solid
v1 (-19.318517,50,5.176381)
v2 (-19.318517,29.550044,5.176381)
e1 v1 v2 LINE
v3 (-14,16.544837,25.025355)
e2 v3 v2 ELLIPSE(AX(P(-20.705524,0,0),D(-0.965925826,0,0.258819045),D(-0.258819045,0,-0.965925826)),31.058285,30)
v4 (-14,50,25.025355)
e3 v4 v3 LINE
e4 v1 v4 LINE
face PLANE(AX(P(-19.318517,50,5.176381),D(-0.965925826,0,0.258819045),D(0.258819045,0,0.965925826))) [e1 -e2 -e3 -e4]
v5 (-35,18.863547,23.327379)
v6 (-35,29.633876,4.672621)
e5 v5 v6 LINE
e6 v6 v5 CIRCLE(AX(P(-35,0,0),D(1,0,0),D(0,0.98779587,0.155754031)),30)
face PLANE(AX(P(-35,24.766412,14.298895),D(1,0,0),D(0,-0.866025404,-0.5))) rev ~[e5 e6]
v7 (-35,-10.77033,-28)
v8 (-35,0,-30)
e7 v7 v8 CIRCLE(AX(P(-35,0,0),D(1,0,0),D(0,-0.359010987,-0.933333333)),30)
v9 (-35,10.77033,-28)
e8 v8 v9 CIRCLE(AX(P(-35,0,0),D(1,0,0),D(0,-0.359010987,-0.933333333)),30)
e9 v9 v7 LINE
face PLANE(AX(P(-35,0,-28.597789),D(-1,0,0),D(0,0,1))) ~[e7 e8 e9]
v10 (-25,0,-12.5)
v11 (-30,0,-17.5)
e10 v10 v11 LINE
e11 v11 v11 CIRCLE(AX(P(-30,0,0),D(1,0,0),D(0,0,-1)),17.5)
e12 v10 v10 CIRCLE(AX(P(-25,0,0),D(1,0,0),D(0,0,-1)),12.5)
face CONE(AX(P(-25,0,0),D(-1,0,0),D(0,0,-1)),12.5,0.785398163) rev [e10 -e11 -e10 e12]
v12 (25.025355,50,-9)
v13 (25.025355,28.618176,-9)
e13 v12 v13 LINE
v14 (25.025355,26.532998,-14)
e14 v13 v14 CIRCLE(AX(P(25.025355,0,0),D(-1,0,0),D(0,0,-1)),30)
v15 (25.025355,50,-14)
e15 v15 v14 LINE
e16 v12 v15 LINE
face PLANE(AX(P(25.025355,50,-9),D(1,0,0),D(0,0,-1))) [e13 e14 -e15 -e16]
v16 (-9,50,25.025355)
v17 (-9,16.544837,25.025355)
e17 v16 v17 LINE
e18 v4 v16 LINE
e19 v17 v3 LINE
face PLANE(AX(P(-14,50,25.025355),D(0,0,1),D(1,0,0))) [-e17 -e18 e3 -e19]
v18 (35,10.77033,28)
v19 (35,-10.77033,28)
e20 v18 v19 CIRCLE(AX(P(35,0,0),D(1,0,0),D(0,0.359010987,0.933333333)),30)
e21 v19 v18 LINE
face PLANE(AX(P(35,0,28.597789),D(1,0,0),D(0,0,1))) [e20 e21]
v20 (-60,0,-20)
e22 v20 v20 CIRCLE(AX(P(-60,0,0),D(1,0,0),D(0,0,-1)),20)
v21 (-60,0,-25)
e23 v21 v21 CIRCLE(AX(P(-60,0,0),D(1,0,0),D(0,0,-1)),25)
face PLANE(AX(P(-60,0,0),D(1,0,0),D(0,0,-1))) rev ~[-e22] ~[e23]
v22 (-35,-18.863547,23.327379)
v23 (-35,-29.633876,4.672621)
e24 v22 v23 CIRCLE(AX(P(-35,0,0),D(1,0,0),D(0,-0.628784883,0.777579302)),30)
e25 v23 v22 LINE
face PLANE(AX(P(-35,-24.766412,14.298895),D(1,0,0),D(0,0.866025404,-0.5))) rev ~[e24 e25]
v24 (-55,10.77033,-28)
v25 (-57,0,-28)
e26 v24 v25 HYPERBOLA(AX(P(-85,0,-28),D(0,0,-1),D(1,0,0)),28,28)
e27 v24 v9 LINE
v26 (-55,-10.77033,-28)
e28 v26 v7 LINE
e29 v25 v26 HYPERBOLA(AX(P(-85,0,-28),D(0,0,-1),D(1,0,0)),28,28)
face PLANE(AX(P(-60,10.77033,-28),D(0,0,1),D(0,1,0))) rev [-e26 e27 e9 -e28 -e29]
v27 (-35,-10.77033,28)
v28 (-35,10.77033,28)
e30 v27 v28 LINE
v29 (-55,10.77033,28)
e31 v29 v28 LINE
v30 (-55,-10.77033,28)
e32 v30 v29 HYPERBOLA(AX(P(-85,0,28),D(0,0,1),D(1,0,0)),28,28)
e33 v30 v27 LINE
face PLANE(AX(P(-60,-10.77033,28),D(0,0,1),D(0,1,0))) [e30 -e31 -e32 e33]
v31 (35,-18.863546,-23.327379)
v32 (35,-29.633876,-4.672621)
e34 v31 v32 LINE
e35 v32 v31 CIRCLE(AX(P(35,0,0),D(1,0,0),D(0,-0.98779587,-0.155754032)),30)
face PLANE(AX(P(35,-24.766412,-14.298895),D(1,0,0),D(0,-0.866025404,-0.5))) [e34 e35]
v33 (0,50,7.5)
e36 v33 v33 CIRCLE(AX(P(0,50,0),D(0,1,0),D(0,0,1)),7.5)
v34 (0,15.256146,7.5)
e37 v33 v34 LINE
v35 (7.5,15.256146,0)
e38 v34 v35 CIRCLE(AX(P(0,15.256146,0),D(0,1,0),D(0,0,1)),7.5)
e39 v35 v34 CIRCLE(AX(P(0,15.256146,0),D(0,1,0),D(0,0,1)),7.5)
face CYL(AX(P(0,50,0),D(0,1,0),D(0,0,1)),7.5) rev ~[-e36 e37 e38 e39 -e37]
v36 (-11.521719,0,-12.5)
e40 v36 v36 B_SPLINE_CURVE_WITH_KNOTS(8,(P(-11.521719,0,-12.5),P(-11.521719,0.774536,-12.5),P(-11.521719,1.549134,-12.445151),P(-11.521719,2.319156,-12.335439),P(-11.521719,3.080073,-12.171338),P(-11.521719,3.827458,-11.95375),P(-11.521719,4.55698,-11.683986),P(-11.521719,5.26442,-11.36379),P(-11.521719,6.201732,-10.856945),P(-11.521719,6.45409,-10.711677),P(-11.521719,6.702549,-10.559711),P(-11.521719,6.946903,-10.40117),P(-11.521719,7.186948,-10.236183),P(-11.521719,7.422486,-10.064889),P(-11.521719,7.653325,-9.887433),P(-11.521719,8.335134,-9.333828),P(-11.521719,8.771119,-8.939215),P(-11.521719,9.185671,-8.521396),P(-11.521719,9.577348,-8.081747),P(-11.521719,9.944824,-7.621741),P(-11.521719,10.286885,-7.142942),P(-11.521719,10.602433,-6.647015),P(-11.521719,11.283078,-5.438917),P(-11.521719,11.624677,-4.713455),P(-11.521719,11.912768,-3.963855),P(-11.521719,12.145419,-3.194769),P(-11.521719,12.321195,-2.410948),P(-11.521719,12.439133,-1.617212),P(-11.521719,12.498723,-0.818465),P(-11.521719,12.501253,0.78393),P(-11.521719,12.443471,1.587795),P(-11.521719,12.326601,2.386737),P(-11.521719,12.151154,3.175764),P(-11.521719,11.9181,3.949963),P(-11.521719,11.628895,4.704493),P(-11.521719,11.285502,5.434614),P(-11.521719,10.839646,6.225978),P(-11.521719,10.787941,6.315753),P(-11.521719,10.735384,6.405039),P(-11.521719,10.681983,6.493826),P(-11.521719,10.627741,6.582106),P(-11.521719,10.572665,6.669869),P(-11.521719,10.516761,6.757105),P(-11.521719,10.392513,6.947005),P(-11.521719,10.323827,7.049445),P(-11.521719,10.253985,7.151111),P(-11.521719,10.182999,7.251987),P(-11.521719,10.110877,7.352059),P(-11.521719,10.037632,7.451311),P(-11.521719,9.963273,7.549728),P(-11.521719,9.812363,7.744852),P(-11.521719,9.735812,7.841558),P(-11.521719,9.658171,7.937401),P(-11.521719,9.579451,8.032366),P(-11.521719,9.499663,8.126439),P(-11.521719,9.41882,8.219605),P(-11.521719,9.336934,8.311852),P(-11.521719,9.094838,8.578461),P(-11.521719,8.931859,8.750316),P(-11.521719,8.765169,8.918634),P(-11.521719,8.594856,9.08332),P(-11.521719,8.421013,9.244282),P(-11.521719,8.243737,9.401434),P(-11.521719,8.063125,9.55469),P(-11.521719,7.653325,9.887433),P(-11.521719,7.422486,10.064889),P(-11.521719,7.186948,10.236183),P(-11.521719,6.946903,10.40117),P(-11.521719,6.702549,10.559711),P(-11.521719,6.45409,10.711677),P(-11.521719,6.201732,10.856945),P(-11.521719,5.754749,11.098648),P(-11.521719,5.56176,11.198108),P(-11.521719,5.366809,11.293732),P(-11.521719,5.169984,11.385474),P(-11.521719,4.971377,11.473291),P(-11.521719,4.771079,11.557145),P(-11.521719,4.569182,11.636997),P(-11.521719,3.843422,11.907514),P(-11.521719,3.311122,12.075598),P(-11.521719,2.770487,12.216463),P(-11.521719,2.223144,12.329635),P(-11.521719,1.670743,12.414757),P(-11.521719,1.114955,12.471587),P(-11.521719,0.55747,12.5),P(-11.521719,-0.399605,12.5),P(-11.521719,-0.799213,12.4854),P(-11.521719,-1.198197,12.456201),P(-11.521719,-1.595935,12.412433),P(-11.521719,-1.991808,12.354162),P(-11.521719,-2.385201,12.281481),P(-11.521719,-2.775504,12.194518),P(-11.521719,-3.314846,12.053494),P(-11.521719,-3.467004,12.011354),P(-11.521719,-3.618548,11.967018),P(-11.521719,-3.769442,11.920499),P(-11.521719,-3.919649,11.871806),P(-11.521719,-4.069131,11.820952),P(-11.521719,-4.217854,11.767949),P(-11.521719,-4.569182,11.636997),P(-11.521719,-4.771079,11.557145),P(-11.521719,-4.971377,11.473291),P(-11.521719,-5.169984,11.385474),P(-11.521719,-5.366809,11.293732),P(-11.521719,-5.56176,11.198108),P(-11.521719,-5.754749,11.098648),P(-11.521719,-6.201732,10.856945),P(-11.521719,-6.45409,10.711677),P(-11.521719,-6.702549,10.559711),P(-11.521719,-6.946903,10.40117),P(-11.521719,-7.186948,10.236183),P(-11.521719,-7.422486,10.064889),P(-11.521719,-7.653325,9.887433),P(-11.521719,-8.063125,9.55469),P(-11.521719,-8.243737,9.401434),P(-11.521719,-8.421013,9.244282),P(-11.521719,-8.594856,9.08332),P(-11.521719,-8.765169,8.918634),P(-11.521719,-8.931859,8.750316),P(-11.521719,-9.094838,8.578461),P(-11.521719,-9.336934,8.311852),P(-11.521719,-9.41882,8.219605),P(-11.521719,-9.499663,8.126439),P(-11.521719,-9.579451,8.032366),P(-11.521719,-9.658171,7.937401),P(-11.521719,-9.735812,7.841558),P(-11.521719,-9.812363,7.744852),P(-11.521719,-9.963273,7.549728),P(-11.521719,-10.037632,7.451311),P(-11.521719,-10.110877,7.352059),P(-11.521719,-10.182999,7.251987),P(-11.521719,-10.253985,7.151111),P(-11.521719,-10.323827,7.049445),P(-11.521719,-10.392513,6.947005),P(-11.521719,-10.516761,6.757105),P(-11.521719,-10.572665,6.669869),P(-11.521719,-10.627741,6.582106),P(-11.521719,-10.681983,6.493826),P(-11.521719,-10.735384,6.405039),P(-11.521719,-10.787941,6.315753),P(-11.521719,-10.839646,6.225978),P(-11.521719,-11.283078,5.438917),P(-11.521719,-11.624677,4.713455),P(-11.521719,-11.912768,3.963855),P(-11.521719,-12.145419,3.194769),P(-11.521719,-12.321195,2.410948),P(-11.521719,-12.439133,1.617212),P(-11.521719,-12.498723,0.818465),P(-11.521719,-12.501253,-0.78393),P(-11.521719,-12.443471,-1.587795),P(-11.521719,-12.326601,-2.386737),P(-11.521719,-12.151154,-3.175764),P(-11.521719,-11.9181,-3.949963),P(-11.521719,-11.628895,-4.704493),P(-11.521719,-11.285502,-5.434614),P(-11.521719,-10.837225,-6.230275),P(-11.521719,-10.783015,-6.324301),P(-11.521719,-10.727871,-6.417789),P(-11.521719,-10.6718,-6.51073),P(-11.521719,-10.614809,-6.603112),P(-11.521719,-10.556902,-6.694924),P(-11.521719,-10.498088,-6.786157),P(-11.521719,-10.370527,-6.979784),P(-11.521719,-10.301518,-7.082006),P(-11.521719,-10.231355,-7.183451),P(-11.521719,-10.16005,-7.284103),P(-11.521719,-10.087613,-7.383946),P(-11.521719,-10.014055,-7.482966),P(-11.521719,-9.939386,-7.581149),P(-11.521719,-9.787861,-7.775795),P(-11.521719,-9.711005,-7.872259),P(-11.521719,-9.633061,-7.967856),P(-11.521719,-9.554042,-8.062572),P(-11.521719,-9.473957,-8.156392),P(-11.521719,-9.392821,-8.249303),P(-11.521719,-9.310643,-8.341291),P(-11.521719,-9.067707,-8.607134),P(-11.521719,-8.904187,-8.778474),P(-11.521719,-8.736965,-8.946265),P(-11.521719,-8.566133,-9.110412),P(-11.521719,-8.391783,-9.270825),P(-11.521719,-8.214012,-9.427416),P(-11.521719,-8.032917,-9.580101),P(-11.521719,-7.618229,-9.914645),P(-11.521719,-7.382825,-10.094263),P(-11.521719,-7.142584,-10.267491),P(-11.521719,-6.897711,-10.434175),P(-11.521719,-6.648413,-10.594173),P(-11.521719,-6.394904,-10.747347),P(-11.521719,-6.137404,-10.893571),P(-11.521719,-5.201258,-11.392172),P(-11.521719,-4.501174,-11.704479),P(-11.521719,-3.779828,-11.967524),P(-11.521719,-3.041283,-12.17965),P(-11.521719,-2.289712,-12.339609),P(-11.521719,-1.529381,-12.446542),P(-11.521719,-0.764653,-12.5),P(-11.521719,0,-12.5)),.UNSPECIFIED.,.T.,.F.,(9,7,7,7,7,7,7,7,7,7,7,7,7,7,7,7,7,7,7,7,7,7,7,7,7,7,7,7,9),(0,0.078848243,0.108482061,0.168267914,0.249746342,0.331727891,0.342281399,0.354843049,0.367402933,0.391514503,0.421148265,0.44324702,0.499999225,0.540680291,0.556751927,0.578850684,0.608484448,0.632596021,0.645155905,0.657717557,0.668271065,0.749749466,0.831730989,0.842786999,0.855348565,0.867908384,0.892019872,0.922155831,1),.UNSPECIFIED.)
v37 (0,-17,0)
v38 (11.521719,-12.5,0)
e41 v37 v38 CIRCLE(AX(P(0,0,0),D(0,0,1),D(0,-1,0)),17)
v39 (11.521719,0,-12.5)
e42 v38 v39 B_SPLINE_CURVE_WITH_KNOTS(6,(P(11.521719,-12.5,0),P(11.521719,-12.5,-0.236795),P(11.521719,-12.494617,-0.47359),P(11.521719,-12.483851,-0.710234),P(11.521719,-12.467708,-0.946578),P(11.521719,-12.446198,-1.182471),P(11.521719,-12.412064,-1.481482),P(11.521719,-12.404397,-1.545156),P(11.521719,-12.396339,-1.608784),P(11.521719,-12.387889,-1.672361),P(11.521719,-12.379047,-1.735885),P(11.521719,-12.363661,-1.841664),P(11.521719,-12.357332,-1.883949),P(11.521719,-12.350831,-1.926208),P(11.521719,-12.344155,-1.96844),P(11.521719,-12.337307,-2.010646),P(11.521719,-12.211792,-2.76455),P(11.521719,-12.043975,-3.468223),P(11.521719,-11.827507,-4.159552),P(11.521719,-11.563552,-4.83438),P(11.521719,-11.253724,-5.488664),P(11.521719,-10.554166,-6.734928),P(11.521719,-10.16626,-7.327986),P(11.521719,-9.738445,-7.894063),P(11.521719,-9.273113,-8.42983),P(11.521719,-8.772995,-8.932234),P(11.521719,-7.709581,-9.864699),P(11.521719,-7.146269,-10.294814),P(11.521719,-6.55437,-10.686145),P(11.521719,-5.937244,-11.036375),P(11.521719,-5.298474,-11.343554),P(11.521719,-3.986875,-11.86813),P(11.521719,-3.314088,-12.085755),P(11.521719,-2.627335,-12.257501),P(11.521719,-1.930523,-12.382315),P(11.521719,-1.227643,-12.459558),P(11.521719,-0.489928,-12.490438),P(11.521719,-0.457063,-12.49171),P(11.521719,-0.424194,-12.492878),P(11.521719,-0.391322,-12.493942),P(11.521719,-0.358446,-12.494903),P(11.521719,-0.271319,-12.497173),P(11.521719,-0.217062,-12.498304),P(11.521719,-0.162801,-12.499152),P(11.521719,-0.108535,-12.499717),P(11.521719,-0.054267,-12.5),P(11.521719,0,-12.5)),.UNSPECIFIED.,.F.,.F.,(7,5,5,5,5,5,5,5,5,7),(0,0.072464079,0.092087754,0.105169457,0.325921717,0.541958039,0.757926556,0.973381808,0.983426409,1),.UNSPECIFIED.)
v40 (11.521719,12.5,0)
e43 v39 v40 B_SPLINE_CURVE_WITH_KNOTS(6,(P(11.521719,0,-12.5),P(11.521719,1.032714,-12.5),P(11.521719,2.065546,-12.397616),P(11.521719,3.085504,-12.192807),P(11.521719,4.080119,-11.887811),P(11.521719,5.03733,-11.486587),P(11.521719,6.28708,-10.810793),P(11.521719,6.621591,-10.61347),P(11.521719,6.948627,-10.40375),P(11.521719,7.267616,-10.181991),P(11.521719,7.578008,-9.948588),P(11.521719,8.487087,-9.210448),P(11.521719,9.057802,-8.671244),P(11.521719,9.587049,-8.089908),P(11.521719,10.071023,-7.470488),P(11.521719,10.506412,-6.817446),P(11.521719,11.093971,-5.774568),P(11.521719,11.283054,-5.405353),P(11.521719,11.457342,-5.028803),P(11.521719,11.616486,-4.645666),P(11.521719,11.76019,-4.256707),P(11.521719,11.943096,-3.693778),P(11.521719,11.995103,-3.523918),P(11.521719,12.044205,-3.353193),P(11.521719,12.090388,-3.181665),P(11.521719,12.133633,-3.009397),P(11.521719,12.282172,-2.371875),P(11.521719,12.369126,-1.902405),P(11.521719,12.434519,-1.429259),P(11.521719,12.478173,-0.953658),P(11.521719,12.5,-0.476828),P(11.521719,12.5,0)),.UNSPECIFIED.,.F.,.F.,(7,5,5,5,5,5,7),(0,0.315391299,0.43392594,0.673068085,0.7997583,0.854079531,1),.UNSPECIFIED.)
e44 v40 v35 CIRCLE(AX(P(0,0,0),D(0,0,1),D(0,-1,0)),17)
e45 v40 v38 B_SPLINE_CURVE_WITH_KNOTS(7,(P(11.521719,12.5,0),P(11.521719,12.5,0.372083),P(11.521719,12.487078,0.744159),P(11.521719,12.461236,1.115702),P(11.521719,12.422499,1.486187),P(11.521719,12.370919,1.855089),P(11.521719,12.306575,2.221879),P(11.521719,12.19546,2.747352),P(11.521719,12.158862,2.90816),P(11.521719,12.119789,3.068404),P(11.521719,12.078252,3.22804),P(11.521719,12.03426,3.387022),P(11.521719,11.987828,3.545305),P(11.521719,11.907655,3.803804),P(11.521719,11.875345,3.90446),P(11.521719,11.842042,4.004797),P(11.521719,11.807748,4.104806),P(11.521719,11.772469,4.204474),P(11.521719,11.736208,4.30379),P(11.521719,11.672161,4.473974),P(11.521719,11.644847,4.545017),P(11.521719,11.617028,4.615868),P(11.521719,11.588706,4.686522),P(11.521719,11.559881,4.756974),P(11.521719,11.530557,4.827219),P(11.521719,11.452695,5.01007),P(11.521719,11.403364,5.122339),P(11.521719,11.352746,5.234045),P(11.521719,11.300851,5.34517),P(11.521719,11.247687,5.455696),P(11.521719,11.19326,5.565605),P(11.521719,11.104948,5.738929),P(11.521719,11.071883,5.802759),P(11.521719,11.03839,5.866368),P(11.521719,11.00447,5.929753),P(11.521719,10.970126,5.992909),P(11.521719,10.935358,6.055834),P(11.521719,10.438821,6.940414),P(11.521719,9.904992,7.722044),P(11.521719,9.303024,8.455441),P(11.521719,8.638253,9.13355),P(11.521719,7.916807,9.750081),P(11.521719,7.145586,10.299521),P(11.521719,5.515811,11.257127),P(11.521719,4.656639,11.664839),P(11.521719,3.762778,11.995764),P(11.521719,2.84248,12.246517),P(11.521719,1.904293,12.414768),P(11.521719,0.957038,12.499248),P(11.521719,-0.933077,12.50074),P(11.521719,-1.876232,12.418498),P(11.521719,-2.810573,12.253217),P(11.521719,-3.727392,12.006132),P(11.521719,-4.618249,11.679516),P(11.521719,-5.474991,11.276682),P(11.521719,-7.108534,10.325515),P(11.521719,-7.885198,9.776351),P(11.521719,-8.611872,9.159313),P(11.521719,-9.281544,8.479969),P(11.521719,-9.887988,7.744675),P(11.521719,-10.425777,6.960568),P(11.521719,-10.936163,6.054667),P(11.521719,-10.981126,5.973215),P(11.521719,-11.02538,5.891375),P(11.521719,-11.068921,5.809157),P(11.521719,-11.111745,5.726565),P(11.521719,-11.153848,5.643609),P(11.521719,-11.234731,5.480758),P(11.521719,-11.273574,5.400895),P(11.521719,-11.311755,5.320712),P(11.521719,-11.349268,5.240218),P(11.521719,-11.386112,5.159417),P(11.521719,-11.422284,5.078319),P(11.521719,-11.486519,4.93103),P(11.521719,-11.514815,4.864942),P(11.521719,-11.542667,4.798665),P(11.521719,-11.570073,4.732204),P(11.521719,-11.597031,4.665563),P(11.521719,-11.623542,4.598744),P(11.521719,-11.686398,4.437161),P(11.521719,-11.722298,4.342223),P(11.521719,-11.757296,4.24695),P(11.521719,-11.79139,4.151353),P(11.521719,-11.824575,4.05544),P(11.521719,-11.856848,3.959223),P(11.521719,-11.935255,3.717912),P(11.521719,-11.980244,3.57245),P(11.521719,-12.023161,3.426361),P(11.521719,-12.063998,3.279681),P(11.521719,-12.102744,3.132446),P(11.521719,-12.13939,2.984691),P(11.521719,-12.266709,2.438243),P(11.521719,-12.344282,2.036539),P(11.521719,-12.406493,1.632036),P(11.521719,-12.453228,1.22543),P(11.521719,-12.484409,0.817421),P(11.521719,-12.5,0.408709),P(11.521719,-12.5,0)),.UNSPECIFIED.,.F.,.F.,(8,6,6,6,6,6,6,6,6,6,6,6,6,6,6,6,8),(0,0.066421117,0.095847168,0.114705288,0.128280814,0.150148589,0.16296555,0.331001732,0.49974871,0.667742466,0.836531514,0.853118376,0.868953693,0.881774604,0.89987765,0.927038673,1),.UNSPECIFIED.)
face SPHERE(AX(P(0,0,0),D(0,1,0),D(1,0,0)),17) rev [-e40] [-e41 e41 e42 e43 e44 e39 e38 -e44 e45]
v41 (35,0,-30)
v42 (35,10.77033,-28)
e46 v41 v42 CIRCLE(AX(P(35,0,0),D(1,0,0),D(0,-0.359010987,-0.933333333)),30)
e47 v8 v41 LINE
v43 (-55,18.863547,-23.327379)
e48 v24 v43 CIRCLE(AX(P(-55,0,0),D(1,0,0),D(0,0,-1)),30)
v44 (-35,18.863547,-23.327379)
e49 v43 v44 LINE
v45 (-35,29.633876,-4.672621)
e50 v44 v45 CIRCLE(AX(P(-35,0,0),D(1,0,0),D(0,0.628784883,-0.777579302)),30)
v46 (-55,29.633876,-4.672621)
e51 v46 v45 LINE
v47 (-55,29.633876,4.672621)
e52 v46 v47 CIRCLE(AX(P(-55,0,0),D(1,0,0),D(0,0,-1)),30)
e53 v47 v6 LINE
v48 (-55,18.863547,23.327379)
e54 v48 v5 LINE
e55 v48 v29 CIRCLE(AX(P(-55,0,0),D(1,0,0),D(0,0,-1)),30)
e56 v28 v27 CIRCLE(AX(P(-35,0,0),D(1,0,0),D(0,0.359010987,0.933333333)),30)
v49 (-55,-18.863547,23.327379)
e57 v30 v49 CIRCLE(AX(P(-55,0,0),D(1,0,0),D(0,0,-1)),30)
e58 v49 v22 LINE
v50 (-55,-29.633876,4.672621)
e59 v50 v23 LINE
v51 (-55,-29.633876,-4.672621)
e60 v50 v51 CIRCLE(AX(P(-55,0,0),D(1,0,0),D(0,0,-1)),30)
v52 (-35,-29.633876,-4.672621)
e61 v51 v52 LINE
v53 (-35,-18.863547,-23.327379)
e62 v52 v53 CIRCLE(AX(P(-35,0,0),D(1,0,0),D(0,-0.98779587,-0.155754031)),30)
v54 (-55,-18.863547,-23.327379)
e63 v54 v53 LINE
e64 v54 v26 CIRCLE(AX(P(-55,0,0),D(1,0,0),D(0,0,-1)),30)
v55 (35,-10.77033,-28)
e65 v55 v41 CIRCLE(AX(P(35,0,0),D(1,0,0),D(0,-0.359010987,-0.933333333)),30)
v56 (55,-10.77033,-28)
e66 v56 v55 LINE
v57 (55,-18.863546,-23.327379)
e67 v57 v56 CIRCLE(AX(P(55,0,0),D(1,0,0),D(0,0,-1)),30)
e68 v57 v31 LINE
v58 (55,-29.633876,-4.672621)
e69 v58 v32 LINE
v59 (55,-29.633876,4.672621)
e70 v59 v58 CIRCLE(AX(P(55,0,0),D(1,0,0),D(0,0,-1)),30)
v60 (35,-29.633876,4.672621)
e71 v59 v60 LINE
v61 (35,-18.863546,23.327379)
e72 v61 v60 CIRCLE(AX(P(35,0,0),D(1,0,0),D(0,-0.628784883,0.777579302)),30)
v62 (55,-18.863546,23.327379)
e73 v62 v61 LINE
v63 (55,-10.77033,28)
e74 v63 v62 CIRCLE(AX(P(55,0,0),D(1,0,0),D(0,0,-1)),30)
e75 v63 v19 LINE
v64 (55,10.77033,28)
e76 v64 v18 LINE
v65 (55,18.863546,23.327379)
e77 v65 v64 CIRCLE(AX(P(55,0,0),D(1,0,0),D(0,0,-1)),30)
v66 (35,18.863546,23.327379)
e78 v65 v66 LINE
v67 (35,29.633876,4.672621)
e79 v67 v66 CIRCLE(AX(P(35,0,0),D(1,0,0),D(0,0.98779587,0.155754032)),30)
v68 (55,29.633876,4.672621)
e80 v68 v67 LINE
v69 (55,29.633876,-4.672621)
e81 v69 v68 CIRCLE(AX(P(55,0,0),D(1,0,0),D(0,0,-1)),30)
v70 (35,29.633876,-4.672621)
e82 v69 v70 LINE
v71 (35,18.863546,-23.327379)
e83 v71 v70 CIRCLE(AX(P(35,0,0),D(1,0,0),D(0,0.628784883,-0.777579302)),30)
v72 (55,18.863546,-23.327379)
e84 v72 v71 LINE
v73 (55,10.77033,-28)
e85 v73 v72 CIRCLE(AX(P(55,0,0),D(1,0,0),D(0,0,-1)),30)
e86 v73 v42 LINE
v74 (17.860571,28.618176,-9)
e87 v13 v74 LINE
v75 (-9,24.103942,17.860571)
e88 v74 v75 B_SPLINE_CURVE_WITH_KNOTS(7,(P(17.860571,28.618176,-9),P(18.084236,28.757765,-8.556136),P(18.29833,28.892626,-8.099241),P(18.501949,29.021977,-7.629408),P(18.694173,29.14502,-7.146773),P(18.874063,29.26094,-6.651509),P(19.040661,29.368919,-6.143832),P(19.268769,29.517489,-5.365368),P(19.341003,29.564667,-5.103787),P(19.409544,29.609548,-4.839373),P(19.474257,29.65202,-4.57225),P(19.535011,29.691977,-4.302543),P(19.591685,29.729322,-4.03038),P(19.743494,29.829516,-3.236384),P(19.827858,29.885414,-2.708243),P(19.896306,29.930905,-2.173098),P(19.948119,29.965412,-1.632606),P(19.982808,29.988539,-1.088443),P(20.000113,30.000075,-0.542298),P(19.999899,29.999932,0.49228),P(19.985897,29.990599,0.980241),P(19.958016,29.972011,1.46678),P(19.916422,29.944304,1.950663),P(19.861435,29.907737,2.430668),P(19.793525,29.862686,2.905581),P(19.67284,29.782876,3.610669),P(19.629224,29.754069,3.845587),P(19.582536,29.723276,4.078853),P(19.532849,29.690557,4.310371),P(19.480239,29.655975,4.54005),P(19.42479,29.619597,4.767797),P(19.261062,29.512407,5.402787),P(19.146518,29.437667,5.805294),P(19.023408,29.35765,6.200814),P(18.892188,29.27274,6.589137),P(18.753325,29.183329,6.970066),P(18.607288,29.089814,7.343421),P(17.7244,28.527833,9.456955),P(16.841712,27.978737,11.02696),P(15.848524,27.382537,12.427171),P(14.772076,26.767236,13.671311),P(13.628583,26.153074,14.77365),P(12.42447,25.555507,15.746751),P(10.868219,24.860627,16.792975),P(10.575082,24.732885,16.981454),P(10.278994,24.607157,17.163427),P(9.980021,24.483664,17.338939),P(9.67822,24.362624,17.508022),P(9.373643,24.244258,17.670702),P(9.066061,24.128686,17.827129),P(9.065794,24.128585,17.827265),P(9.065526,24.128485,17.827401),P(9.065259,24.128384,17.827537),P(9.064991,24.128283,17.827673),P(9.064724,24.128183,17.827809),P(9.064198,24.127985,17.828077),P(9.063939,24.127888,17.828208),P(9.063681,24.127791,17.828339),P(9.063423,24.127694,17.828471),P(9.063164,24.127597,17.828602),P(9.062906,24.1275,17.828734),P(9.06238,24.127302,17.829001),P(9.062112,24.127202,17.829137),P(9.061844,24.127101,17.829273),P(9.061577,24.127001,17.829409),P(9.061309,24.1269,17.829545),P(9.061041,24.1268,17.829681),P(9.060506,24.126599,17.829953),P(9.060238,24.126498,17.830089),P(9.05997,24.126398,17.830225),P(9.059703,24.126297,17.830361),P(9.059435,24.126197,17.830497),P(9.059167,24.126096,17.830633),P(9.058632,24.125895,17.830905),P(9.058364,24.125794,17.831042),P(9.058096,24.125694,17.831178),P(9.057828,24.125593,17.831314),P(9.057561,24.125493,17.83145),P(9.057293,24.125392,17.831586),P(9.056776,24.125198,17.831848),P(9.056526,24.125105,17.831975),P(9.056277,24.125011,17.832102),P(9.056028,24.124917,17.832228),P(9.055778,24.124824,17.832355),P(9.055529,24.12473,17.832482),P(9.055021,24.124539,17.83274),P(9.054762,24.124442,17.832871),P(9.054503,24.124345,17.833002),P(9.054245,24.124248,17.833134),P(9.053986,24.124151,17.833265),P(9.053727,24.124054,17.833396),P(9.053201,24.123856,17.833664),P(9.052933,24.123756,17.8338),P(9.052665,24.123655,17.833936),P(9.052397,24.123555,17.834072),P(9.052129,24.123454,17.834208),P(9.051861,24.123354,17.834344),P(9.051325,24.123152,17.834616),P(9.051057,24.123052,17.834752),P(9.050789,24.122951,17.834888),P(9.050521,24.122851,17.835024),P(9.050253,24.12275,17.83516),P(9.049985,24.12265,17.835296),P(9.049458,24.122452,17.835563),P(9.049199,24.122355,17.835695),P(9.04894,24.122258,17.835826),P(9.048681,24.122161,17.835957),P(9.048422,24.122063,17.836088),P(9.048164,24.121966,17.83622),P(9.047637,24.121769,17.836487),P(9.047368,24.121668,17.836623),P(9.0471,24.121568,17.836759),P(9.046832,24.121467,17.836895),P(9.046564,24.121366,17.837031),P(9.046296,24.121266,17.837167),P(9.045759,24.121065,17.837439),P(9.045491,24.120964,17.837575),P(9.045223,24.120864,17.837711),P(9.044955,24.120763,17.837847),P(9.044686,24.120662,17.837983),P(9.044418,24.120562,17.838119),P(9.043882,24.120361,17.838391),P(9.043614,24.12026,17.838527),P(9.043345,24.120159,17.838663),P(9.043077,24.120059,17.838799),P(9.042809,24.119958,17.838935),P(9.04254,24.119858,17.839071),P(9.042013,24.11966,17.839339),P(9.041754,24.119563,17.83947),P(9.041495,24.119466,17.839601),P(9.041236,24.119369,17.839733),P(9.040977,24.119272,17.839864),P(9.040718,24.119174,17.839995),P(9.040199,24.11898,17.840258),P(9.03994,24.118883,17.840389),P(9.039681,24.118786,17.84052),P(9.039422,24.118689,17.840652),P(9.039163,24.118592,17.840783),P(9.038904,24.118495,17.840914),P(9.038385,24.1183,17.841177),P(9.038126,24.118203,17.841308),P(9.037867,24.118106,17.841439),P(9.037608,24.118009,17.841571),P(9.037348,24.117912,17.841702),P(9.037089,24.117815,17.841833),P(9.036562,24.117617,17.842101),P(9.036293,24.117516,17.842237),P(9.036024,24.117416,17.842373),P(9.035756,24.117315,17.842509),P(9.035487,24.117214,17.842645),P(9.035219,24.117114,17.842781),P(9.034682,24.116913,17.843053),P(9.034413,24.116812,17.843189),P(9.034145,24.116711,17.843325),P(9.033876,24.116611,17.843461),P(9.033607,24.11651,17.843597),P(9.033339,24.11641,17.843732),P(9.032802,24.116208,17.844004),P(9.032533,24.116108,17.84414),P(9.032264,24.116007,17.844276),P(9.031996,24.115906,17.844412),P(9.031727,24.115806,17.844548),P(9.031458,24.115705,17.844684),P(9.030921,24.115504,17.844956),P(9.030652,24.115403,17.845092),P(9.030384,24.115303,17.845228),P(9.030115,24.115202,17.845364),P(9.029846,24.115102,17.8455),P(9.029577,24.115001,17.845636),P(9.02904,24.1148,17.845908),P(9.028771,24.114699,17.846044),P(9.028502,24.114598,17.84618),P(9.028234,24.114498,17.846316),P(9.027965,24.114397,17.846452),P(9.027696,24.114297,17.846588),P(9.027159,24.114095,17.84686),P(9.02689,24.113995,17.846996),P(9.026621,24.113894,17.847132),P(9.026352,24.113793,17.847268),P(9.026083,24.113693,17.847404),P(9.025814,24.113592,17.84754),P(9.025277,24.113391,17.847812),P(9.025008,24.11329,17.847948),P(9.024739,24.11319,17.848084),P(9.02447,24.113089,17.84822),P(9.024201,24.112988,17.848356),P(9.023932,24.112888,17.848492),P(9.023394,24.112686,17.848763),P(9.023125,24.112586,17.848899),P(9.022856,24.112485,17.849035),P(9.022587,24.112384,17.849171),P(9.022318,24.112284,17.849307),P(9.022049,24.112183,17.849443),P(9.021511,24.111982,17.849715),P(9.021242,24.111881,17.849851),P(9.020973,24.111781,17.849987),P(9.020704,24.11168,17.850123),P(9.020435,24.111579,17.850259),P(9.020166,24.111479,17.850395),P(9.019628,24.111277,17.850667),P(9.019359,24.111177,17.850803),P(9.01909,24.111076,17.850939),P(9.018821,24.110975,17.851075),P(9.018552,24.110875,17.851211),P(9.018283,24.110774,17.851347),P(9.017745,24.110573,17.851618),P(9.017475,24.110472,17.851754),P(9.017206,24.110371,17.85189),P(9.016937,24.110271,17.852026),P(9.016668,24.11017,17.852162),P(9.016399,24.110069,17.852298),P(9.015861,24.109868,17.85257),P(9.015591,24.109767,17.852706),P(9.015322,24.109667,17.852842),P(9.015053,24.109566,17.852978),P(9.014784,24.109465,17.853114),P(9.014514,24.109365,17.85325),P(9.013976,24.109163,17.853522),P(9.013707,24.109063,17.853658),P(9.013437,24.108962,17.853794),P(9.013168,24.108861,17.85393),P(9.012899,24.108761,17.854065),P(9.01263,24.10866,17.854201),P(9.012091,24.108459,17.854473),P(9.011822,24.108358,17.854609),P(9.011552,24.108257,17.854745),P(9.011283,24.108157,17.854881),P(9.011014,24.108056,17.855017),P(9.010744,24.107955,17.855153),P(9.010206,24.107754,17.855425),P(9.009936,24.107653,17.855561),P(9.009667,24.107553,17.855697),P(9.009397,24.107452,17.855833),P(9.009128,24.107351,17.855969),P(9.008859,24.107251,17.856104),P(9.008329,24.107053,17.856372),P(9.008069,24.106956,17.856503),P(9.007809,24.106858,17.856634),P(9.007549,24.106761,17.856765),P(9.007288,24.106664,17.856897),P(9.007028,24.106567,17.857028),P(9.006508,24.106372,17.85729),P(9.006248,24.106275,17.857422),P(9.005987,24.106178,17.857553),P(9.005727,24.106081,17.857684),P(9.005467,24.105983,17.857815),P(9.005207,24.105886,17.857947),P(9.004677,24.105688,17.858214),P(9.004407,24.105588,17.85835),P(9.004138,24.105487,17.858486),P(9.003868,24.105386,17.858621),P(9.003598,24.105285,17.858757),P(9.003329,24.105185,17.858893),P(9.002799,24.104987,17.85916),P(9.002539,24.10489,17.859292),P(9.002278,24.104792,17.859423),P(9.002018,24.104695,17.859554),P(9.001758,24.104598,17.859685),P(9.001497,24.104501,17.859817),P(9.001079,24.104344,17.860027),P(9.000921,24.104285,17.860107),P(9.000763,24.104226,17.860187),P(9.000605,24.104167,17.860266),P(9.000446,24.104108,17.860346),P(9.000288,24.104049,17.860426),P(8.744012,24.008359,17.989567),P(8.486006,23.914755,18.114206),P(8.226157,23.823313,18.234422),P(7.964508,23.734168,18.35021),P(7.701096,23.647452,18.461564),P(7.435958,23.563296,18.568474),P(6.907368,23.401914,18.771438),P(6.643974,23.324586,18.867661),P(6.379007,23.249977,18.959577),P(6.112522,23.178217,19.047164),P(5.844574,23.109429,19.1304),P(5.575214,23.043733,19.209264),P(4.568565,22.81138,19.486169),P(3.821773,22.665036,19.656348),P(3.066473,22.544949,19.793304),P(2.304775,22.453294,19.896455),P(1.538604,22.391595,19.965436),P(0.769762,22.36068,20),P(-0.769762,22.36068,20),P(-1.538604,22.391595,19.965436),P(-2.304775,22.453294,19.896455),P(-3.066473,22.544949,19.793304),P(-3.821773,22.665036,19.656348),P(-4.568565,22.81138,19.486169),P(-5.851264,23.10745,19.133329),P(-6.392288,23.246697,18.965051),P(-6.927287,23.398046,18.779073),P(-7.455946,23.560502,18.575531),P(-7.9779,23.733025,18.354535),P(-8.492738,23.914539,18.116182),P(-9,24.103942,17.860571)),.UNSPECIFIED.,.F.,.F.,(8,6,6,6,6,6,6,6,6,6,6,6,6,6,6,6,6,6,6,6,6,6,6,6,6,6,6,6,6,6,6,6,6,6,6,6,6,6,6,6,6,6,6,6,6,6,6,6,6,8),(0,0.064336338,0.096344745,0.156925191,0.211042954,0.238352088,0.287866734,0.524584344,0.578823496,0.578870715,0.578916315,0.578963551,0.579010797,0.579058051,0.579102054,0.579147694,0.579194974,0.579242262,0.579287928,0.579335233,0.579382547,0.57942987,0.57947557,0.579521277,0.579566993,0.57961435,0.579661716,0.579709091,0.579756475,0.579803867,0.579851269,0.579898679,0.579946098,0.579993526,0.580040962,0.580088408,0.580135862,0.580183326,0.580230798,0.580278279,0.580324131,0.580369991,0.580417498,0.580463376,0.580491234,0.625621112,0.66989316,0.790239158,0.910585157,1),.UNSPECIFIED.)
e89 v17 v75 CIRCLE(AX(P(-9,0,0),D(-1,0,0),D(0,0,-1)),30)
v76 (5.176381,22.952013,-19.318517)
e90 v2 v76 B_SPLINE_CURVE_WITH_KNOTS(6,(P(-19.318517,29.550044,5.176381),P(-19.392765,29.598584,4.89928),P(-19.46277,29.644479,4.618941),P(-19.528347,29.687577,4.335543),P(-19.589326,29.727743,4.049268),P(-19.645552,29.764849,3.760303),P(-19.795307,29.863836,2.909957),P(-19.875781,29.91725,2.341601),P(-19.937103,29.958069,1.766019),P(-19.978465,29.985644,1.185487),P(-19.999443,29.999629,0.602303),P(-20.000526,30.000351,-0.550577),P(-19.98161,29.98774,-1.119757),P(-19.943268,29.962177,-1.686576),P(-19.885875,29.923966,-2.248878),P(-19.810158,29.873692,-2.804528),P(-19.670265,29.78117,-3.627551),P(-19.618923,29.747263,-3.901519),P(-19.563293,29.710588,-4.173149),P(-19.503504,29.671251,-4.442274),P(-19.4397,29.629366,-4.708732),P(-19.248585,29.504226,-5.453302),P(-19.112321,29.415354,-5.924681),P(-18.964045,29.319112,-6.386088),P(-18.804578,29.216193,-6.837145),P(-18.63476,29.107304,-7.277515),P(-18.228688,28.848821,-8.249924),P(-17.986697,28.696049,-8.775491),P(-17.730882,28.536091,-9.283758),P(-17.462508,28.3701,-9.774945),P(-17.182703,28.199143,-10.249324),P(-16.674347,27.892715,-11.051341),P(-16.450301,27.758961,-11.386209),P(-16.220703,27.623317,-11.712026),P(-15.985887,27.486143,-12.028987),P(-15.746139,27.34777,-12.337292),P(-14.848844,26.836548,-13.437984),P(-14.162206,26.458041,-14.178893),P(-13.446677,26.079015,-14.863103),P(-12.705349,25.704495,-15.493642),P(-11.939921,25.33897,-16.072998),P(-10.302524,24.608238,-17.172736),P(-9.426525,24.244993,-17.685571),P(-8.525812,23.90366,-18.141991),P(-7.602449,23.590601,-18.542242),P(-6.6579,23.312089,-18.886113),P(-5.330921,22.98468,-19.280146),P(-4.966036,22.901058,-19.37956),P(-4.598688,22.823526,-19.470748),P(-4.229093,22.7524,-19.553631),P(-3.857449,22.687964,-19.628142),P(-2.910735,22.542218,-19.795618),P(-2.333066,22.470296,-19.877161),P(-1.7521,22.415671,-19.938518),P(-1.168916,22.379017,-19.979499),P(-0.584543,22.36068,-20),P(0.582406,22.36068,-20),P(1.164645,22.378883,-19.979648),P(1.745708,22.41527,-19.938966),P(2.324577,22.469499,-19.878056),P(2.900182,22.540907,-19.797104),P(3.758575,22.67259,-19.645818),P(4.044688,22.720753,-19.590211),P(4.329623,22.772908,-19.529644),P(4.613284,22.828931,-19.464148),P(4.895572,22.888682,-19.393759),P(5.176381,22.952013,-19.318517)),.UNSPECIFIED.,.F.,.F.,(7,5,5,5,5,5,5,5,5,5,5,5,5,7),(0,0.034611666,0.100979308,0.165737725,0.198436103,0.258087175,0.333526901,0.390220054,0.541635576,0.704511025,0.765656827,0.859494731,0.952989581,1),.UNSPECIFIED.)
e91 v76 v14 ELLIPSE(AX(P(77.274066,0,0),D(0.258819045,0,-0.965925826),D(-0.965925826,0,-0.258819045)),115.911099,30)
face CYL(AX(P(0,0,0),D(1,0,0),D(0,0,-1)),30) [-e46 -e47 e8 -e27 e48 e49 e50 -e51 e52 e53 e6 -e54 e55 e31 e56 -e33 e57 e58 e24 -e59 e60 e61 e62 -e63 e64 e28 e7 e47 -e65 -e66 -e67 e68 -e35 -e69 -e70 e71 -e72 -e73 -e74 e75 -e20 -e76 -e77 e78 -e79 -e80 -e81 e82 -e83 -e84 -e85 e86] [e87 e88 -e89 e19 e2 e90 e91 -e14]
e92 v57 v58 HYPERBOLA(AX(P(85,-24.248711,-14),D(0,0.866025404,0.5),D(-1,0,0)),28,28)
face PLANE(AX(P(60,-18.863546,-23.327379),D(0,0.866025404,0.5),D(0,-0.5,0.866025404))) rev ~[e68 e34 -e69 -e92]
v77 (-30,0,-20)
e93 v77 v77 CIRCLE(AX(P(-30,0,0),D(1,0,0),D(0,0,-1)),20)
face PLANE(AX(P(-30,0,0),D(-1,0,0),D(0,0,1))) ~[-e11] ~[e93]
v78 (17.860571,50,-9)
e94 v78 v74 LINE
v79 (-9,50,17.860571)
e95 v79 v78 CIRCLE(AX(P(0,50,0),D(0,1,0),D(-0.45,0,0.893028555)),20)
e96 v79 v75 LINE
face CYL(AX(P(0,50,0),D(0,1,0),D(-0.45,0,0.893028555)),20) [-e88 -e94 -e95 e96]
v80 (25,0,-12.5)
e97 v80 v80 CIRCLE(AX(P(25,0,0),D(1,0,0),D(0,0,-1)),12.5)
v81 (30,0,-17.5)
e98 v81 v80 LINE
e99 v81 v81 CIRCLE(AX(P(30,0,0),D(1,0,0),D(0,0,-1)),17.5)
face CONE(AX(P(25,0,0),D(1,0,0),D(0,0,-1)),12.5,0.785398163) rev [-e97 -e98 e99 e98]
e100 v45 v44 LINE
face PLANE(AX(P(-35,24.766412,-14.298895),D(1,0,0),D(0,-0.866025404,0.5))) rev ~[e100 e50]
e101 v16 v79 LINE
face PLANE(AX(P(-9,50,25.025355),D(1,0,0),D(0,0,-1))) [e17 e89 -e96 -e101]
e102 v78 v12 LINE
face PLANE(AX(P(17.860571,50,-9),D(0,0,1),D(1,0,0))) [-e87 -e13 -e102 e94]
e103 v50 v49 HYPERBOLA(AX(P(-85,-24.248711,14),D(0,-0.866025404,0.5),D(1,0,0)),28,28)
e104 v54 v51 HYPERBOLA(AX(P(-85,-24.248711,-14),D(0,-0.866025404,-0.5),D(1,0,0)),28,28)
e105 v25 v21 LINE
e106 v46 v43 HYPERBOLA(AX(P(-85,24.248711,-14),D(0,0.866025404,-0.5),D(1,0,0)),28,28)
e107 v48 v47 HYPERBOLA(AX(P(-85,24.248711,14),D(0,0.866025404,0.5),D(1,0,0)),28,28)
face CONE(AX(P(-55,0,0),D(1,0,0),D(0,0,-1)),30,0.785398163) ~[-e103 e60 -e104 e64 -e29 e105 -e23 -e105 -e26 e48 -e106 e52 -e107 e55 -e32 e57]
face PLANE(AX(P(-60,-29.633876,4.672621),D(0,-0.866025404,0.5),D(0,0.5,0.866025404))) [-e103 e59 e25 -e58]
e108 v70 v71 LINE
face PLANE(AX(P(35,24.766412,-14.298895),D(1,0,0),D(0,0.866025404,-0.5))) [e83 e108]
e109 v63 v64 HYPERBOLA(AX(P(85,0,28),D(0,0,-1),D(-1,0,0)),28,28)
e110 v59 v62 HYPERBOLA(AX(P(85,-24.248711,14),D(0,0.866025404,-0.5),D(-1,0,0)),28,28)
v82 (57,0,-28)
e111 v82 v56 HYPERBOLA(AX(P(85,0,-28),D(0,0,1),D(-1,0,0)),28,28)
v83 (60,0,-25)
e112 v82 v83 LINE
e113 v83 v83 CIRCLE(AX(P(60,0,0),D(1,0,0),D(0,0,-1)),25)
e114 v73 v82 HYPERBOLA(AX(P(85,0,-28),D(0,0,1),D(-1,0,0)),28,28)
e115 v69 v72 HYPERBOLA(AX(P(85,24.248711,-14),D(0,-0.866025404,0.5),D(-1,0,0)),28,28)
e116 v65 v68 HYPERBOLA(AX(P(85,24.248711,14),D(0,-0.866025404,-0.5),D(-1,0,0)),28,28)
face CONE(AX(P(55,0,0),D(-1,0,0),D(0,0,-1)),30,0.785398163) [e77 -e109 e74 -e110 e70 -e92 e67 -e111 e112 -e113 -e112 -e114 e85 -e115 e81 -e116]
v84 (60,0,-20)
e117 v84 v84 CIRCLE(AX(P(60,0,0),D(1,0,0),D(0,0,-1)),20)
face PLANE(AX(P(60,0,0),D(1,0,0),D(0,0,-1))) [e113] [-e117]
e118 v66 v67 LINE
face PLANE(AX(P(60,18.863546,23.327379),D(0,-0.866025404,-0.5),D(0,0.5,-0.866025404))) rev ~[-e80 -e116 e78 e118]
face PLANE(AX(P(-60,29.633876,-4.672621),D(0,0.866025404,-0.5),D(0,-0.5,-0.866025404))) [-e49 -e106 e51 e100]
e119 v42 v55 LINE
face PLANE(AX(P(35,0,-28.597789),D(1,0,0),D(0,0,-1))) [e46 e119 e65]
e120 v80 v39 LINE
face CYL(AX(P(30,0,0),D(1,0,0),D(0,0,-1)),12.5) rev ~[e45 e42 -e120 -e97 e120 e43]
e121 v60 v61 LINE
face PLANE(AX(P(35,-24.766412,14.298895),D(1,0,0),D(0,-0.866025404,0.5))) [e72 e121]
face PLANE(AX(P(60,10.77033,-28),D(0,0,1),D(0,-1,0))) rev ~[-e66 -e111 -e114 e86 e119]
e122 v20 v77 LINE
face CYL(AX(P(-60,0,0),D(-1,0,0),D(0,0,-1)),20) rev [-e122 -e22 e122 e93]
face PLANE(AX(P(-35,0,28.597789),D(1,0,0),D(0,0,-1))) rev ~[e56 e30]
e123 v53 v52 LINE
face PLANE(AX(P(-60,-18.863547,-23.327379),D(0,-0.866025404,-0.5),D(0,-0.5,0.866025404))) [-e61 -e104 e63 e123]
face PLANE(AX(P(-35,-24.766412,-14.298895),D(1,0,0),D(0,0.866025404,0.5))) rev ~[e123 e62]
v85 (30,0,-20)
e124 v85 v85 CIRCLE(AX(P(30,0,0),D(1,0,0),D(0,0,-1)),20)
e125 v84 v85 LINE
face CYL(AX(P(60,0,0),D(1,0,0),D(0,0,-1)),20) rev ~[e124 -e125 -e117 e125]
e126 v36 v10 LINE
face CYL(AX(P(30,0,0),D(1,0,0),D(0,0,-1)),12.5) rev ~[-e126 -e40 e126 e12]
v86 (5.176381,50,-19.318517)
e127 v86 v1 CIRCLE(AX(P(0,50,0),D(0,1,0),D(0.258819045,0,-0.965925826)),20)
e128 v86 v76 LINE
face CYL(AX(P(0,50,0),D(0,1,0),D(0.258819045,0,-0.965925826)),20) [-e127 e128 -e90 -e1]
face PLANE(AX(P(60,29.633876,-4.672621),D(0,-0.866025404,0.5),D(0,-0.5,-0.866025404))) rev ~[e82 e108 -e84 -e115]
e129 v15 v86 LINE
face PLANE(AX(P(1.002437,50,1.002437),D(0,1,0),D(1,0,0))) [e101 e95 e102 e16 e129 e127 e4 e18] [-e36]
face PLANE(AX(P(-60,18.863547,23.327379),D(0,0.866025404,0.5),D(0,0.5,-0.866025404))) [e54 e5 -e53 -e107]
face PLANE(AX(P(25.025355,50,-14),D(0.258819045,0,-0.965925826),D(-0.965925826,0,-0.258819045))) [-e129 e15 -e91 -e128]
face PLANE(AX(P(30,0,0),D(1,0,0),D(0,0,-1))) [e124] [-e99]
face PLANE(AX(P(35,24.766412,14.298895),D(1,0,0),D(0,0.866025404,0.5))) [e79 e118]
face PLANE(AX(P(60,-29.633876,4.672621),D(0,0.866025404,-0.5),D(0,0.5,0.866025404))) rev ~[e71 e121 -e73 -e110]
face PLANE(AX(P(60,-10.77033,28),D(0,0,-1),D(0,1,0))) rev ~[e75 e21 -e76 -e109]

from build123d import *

# Parameters (mm, degrees)
SKETCH1_R                = 30
BOSS_EXTRUDE1_DEPTH      = 60
CHAMFER1_SIZE            = 5
CUT_EXTRUDE1_DEPTH       = 25
CIRPATTERN1_COUNT        = 6
SKETCH3_R                = 20
CUT_EXTRUDE2_DEPTH       = 30
SKETCH5_R                = 12.5
CUT_EXTRUDE3_DEPTH       = 91
CHAMFER2_SIZE            = 5
MIRROR1_COPY_1_DEPTH     = 25
MIRROR1_COPY_2_DEPTH     = 25
MIRROR1_COPY_3_DEPTH     = 25
MIRROR1_COPY_4_DEPTH     = 25
MIRROR1_COPY_5_DEPTH     = 25
CHAMFER2_OF_MIRROR1_SIZE = 5
BOSS_EXTRUDE2_REACH      = 82
BOSS_EXTRUDE2_END_RADIUS = 30
CUT_EXTRUDE4_REACH       = 82
CUT_EXTRUDE4_END_RADIUS  = 17
SKETCH8_R                = 7.5


with BuildPart() as part:
    # Sketch1 → Boss-Extrude1 (new body, symmetric)
    with BuildSketch(Plane(origin=(0, 0, 0), x_dir=(0, 0, -1), z_dir=(1, 0, 0))):
        Circle(SKETCH1_R)
    extrude(amount=BOSS_EXTRUDE1_DEPTH, both=True)

    # Chamfer1
    chamfer1_edges = [part.edges().sort_by_distance(p)[0] for p in [
        (-60, 0, 30),
        (60, 0, 30),
    ]]
    chamfer(chamfer1_edges, length=CHAMFER1_SIZE)

    # Sketch2 → Cut-Extrude1 (cut)
    with BuildSketch(Plane(origin=(60, 0, 0), x_dir=(0, 0, -1), z_dir=(1, 0, 0))):
        with BuildLine():
            Line((28, 10.770329614), (28, -10.770329614))
            ThreePointArc((28, -10.770329614), (30, 0), (28, 10.770329614))
        make_face()
    cut_extrude1 = extrude(amount=-CUT_EXTRUDE1_DEPTH, mode=Mode.SUBTRACT)

    # CirPattern1: Cut-Extrude1 ×6 about axis
    cirpattern1_axis = Axis((0, 0, 0), (1, 0, 0))
    for i in range(1, CIRPATTERN1_COUNT):
        add(cut_extrude1.rotate(cirpattern1_axis, i * 360 / CIRPATTERN1_COUNT), mode=Mode.SUBTRACT)

    # Sketch3 → Cut-Extrude2 (cut)
    with BuildSketch(Plane(origin=(60, 0, 0), x_dir=(0, 0, -1), z_dir=(1, 0, 0))):
        Circle(SKETCH3_R)
    cut_extrude2 = extrude(amount=-CUT_EXTRUDE2_DEPTH, mode=Mode.SUBTRACT)

    # Sketch5 → Cut-Extrude3 (cut, through all)
    with BuildSketch(Plane(origin=(30, 0, 0), x_dir=(0, 0, -1), z_dir=(1, 0, 0))):
        Circle(SKETCH5_R)
    extrude(amount=-CUT_EXTRUDE3_DEPTH, mode=Mode.SUBTRACT)

    # Sketch4 → Cut-Revolve1 (revolve, cut)
    with BuildSketch(Plane.XY):
        with BuildLine():
            Line((0, 17), (0, -17))
            ThreePointArc((0, -17), (17, 0), (0, 17))
        make_face()
    revolve(axis=Axis((0, 40.549893096, 0), (0, -1, 0)), mode=Mode.SUBTRACT)

    # Chamfer2
    chamfer2_edges = [part.edges().sort_by_distance(p)[0] for p in [
        (30, 0, 12.5),
    ]]
    chamfer(chamfer2_edges, length=CHAMFER2_SIZE)

    # Mirror1: Cut-Extrude1, Cut-Extrude2 across plane
    add(cut_extrude1.mirror(Plane(origin=(0, 0, 0), x_dir=(0, 0, 1), z_dir=(1, 0, 0))), mode=Mode.SUBTRACT)
    add(cut_extrude2.mirror(Plane(origin=(0, 0, 0), x_dir=(0, 0, 1), z_dir=(1, 0, 0))), mode=Mode.SUBTRACT)

    # Mirror1 copy 1 sketch → Mirror1 copy 1 (cut)
    with BuildSketch(Plane(origin=(-60, 0, 0), x_dir=(0, 0.866025404, -0.5), z_dir=(-1, 0, 0))):
        with BuildLine():
            Line((28, -10.770329614), (28, 10.770329614))
            ThreePointArc((28, 10.770329614), (30, 0), (28, -10.770329614))
        make_face()
    extrude(amount=-MIRROR1_COPY_1_DEPTH, mode=Mode.SUBTRACT)

    # Mirror1 copy 2 sketch → Mirror1 copy 2 (cut)
    with BuildSketch(Plane(origin=(-60, 0, 0), x_dir=(0, 0.866025404, 0.5), z_dir=(-1, 0, 0))):
        with BuildLine():
            Line((28, -10.770329614), (28, 10.770329614))
            ThreePointArc((28, 10.770329614), (30, 0), (28, -10.770329614))
        make_face()
    extrude(amount=-MIRROR1_COPY_2_DEPTH, mode=Mode.SUBTRACT)

    # Mirror1 copy 3 sketch → Mirror1 copy 3 (cut)
    with BuildSketch(Plane.ZY.offset(60)):
        with BuildLine():
            Line((28, -10.770329614), (28, 10.770329614))
            ThreePointArc((28, 10.770329614), (30, 0), (28, -10.770329614))
        make_face()
    extrude(amount=-MIRROR1_COPY_3_DEPTH, mode=Mode.SUBTRACT)

    # Mirror1 copy 4 sketch → Mirror1 copy 4 (cut)
    with BuildSketch(Plane(origin=(-60, 0, 0), x_dir=(0, -0.866025404, 0.5), z_dir=(-1, 0, 0))):
        with BuildLine():
            Line((28, -10.770329614), (28, 10.770329614))
            ThreePointArc((28, 10.770329614), (30, 0), (28, -10.770329614))
        make_face()
    extrude(amount=-MIRROR1_COPY_4_DEPTH, mode=Mode.SUBTRACT)

    # Mirror1 copy 5 sketch → Mirror1 copy 5 (cut)
    with BuildSketch(Plane(origin=(-60, 0, 0), x_dir=(0, -0.866025404, -0.5), z_dir=(-1, 0, 0))):
        with BuildLine():
            Line((28, -10.770329614), (28, 10.770329614))
            ThreePointArc((28, 10.770329614), (30, 0), (28, -10.770329614))
        make_face()
    extrude(amount=-MIRROR1_COPY_5_DEPTH, mode=Mode.SUBTRACT)

    # Chamfer2 of Mirror1
    chamfer2_of_mirror1_edges = [part.edges().sort_by_distance(p)[0] for p in [
        (-30, 0, 12.5),
    ]]
    chamfer(chamfer2_of_mirror1_edges, length=CHAMFER2_OF_MIRROR1_SIZE)

    # Boss-Extrude2: up to this cylinder (the profile starts outside it)
    boss_extrude2_end = Plane(origin=(0.286485, 0, 0), z_dir=(-1, 0, 0)) * Cylinder(BOSS_EXTRUDE2_END_RADIUS, 225, mode=Mode.PRIVATE)
    # Sketch6 → Boss-Extrude2 (add, up to the surface)
    with BuildSketch(Plane(origin=(0, 50, 0), x_dir=(1, 0, 0), z_dir=(0, 1, 0)), mode=Mode.PRIVATE) as boss_extrude2_sk1:
        with BuildLine():
            Line((17.860571099, 9), (25.025354797, 9))
            Line((25.025354797, 9), (25.025354797, 14))
            Line((25.025354797, 14), (5.176380902, 19.318516526))
            ThreePointArc((5.176380902, 19.318516526), (-14.142135624, 14.142135624), (-19.318516526, -5.176380902))
            Line((-19.318516526, -5.176380902), (-14, -25.025354797))
            Line((-14, -25.025354797), (-9, -25.025354797))
            Line((-9, -25.025354797), (-9, -17.860571099))
            ThreePointArc((-9, -17.860571099), (14.142135624, -14.142135624), (17.860571099, 9))
        make_face()
    boss_extrude2_tool1 = extrude(boss_extrude2_sk1.sketch, amount=-BOSS_EXTRUDE2_REACH, mode=Mode.PRIVATE) - boss_extrude2_end
    add(boss_extrude2_tool1.solids().sort_by_distance((0.286485, 50, 0.286485))[0])

    # Cut-Extrude4: up to this sphere (the profile starts outside it)
    cut_extrude4_end = Location((0, 0, 0)) * Sphere(CUT_EXTRUDE4_END_RADIUS, mode=Mode.PRIVATE)
    # Sketch8 → Cut-Extrude4 (cut, up to the surface)
    with BuildSketch(Plane(origin=(0, 50, 0), x_dir=(1, 0, 0), z_dir=(0, 1, 0)), mode=Mode.PRIVATE) as cut_extrude4_sk1:
        with Locations(Location((0, 0, 0), (0, 0, 270))):  # turned: the seam where the file's is
            Circle(SKETCH8_R)
    cut_extrude4_tool1 = extrude(cut_extrude4_sk1.sketch, amount=-CUT_EXTRUDE4_REACH, mode=Mode.PRIVATE) - cut_extrude4_end
    add(cut_extrude4_tool1.solids().sort_by_distance((0, 50, 0))[0], mode=Mode.SUBTRACT)


solid = part.part
